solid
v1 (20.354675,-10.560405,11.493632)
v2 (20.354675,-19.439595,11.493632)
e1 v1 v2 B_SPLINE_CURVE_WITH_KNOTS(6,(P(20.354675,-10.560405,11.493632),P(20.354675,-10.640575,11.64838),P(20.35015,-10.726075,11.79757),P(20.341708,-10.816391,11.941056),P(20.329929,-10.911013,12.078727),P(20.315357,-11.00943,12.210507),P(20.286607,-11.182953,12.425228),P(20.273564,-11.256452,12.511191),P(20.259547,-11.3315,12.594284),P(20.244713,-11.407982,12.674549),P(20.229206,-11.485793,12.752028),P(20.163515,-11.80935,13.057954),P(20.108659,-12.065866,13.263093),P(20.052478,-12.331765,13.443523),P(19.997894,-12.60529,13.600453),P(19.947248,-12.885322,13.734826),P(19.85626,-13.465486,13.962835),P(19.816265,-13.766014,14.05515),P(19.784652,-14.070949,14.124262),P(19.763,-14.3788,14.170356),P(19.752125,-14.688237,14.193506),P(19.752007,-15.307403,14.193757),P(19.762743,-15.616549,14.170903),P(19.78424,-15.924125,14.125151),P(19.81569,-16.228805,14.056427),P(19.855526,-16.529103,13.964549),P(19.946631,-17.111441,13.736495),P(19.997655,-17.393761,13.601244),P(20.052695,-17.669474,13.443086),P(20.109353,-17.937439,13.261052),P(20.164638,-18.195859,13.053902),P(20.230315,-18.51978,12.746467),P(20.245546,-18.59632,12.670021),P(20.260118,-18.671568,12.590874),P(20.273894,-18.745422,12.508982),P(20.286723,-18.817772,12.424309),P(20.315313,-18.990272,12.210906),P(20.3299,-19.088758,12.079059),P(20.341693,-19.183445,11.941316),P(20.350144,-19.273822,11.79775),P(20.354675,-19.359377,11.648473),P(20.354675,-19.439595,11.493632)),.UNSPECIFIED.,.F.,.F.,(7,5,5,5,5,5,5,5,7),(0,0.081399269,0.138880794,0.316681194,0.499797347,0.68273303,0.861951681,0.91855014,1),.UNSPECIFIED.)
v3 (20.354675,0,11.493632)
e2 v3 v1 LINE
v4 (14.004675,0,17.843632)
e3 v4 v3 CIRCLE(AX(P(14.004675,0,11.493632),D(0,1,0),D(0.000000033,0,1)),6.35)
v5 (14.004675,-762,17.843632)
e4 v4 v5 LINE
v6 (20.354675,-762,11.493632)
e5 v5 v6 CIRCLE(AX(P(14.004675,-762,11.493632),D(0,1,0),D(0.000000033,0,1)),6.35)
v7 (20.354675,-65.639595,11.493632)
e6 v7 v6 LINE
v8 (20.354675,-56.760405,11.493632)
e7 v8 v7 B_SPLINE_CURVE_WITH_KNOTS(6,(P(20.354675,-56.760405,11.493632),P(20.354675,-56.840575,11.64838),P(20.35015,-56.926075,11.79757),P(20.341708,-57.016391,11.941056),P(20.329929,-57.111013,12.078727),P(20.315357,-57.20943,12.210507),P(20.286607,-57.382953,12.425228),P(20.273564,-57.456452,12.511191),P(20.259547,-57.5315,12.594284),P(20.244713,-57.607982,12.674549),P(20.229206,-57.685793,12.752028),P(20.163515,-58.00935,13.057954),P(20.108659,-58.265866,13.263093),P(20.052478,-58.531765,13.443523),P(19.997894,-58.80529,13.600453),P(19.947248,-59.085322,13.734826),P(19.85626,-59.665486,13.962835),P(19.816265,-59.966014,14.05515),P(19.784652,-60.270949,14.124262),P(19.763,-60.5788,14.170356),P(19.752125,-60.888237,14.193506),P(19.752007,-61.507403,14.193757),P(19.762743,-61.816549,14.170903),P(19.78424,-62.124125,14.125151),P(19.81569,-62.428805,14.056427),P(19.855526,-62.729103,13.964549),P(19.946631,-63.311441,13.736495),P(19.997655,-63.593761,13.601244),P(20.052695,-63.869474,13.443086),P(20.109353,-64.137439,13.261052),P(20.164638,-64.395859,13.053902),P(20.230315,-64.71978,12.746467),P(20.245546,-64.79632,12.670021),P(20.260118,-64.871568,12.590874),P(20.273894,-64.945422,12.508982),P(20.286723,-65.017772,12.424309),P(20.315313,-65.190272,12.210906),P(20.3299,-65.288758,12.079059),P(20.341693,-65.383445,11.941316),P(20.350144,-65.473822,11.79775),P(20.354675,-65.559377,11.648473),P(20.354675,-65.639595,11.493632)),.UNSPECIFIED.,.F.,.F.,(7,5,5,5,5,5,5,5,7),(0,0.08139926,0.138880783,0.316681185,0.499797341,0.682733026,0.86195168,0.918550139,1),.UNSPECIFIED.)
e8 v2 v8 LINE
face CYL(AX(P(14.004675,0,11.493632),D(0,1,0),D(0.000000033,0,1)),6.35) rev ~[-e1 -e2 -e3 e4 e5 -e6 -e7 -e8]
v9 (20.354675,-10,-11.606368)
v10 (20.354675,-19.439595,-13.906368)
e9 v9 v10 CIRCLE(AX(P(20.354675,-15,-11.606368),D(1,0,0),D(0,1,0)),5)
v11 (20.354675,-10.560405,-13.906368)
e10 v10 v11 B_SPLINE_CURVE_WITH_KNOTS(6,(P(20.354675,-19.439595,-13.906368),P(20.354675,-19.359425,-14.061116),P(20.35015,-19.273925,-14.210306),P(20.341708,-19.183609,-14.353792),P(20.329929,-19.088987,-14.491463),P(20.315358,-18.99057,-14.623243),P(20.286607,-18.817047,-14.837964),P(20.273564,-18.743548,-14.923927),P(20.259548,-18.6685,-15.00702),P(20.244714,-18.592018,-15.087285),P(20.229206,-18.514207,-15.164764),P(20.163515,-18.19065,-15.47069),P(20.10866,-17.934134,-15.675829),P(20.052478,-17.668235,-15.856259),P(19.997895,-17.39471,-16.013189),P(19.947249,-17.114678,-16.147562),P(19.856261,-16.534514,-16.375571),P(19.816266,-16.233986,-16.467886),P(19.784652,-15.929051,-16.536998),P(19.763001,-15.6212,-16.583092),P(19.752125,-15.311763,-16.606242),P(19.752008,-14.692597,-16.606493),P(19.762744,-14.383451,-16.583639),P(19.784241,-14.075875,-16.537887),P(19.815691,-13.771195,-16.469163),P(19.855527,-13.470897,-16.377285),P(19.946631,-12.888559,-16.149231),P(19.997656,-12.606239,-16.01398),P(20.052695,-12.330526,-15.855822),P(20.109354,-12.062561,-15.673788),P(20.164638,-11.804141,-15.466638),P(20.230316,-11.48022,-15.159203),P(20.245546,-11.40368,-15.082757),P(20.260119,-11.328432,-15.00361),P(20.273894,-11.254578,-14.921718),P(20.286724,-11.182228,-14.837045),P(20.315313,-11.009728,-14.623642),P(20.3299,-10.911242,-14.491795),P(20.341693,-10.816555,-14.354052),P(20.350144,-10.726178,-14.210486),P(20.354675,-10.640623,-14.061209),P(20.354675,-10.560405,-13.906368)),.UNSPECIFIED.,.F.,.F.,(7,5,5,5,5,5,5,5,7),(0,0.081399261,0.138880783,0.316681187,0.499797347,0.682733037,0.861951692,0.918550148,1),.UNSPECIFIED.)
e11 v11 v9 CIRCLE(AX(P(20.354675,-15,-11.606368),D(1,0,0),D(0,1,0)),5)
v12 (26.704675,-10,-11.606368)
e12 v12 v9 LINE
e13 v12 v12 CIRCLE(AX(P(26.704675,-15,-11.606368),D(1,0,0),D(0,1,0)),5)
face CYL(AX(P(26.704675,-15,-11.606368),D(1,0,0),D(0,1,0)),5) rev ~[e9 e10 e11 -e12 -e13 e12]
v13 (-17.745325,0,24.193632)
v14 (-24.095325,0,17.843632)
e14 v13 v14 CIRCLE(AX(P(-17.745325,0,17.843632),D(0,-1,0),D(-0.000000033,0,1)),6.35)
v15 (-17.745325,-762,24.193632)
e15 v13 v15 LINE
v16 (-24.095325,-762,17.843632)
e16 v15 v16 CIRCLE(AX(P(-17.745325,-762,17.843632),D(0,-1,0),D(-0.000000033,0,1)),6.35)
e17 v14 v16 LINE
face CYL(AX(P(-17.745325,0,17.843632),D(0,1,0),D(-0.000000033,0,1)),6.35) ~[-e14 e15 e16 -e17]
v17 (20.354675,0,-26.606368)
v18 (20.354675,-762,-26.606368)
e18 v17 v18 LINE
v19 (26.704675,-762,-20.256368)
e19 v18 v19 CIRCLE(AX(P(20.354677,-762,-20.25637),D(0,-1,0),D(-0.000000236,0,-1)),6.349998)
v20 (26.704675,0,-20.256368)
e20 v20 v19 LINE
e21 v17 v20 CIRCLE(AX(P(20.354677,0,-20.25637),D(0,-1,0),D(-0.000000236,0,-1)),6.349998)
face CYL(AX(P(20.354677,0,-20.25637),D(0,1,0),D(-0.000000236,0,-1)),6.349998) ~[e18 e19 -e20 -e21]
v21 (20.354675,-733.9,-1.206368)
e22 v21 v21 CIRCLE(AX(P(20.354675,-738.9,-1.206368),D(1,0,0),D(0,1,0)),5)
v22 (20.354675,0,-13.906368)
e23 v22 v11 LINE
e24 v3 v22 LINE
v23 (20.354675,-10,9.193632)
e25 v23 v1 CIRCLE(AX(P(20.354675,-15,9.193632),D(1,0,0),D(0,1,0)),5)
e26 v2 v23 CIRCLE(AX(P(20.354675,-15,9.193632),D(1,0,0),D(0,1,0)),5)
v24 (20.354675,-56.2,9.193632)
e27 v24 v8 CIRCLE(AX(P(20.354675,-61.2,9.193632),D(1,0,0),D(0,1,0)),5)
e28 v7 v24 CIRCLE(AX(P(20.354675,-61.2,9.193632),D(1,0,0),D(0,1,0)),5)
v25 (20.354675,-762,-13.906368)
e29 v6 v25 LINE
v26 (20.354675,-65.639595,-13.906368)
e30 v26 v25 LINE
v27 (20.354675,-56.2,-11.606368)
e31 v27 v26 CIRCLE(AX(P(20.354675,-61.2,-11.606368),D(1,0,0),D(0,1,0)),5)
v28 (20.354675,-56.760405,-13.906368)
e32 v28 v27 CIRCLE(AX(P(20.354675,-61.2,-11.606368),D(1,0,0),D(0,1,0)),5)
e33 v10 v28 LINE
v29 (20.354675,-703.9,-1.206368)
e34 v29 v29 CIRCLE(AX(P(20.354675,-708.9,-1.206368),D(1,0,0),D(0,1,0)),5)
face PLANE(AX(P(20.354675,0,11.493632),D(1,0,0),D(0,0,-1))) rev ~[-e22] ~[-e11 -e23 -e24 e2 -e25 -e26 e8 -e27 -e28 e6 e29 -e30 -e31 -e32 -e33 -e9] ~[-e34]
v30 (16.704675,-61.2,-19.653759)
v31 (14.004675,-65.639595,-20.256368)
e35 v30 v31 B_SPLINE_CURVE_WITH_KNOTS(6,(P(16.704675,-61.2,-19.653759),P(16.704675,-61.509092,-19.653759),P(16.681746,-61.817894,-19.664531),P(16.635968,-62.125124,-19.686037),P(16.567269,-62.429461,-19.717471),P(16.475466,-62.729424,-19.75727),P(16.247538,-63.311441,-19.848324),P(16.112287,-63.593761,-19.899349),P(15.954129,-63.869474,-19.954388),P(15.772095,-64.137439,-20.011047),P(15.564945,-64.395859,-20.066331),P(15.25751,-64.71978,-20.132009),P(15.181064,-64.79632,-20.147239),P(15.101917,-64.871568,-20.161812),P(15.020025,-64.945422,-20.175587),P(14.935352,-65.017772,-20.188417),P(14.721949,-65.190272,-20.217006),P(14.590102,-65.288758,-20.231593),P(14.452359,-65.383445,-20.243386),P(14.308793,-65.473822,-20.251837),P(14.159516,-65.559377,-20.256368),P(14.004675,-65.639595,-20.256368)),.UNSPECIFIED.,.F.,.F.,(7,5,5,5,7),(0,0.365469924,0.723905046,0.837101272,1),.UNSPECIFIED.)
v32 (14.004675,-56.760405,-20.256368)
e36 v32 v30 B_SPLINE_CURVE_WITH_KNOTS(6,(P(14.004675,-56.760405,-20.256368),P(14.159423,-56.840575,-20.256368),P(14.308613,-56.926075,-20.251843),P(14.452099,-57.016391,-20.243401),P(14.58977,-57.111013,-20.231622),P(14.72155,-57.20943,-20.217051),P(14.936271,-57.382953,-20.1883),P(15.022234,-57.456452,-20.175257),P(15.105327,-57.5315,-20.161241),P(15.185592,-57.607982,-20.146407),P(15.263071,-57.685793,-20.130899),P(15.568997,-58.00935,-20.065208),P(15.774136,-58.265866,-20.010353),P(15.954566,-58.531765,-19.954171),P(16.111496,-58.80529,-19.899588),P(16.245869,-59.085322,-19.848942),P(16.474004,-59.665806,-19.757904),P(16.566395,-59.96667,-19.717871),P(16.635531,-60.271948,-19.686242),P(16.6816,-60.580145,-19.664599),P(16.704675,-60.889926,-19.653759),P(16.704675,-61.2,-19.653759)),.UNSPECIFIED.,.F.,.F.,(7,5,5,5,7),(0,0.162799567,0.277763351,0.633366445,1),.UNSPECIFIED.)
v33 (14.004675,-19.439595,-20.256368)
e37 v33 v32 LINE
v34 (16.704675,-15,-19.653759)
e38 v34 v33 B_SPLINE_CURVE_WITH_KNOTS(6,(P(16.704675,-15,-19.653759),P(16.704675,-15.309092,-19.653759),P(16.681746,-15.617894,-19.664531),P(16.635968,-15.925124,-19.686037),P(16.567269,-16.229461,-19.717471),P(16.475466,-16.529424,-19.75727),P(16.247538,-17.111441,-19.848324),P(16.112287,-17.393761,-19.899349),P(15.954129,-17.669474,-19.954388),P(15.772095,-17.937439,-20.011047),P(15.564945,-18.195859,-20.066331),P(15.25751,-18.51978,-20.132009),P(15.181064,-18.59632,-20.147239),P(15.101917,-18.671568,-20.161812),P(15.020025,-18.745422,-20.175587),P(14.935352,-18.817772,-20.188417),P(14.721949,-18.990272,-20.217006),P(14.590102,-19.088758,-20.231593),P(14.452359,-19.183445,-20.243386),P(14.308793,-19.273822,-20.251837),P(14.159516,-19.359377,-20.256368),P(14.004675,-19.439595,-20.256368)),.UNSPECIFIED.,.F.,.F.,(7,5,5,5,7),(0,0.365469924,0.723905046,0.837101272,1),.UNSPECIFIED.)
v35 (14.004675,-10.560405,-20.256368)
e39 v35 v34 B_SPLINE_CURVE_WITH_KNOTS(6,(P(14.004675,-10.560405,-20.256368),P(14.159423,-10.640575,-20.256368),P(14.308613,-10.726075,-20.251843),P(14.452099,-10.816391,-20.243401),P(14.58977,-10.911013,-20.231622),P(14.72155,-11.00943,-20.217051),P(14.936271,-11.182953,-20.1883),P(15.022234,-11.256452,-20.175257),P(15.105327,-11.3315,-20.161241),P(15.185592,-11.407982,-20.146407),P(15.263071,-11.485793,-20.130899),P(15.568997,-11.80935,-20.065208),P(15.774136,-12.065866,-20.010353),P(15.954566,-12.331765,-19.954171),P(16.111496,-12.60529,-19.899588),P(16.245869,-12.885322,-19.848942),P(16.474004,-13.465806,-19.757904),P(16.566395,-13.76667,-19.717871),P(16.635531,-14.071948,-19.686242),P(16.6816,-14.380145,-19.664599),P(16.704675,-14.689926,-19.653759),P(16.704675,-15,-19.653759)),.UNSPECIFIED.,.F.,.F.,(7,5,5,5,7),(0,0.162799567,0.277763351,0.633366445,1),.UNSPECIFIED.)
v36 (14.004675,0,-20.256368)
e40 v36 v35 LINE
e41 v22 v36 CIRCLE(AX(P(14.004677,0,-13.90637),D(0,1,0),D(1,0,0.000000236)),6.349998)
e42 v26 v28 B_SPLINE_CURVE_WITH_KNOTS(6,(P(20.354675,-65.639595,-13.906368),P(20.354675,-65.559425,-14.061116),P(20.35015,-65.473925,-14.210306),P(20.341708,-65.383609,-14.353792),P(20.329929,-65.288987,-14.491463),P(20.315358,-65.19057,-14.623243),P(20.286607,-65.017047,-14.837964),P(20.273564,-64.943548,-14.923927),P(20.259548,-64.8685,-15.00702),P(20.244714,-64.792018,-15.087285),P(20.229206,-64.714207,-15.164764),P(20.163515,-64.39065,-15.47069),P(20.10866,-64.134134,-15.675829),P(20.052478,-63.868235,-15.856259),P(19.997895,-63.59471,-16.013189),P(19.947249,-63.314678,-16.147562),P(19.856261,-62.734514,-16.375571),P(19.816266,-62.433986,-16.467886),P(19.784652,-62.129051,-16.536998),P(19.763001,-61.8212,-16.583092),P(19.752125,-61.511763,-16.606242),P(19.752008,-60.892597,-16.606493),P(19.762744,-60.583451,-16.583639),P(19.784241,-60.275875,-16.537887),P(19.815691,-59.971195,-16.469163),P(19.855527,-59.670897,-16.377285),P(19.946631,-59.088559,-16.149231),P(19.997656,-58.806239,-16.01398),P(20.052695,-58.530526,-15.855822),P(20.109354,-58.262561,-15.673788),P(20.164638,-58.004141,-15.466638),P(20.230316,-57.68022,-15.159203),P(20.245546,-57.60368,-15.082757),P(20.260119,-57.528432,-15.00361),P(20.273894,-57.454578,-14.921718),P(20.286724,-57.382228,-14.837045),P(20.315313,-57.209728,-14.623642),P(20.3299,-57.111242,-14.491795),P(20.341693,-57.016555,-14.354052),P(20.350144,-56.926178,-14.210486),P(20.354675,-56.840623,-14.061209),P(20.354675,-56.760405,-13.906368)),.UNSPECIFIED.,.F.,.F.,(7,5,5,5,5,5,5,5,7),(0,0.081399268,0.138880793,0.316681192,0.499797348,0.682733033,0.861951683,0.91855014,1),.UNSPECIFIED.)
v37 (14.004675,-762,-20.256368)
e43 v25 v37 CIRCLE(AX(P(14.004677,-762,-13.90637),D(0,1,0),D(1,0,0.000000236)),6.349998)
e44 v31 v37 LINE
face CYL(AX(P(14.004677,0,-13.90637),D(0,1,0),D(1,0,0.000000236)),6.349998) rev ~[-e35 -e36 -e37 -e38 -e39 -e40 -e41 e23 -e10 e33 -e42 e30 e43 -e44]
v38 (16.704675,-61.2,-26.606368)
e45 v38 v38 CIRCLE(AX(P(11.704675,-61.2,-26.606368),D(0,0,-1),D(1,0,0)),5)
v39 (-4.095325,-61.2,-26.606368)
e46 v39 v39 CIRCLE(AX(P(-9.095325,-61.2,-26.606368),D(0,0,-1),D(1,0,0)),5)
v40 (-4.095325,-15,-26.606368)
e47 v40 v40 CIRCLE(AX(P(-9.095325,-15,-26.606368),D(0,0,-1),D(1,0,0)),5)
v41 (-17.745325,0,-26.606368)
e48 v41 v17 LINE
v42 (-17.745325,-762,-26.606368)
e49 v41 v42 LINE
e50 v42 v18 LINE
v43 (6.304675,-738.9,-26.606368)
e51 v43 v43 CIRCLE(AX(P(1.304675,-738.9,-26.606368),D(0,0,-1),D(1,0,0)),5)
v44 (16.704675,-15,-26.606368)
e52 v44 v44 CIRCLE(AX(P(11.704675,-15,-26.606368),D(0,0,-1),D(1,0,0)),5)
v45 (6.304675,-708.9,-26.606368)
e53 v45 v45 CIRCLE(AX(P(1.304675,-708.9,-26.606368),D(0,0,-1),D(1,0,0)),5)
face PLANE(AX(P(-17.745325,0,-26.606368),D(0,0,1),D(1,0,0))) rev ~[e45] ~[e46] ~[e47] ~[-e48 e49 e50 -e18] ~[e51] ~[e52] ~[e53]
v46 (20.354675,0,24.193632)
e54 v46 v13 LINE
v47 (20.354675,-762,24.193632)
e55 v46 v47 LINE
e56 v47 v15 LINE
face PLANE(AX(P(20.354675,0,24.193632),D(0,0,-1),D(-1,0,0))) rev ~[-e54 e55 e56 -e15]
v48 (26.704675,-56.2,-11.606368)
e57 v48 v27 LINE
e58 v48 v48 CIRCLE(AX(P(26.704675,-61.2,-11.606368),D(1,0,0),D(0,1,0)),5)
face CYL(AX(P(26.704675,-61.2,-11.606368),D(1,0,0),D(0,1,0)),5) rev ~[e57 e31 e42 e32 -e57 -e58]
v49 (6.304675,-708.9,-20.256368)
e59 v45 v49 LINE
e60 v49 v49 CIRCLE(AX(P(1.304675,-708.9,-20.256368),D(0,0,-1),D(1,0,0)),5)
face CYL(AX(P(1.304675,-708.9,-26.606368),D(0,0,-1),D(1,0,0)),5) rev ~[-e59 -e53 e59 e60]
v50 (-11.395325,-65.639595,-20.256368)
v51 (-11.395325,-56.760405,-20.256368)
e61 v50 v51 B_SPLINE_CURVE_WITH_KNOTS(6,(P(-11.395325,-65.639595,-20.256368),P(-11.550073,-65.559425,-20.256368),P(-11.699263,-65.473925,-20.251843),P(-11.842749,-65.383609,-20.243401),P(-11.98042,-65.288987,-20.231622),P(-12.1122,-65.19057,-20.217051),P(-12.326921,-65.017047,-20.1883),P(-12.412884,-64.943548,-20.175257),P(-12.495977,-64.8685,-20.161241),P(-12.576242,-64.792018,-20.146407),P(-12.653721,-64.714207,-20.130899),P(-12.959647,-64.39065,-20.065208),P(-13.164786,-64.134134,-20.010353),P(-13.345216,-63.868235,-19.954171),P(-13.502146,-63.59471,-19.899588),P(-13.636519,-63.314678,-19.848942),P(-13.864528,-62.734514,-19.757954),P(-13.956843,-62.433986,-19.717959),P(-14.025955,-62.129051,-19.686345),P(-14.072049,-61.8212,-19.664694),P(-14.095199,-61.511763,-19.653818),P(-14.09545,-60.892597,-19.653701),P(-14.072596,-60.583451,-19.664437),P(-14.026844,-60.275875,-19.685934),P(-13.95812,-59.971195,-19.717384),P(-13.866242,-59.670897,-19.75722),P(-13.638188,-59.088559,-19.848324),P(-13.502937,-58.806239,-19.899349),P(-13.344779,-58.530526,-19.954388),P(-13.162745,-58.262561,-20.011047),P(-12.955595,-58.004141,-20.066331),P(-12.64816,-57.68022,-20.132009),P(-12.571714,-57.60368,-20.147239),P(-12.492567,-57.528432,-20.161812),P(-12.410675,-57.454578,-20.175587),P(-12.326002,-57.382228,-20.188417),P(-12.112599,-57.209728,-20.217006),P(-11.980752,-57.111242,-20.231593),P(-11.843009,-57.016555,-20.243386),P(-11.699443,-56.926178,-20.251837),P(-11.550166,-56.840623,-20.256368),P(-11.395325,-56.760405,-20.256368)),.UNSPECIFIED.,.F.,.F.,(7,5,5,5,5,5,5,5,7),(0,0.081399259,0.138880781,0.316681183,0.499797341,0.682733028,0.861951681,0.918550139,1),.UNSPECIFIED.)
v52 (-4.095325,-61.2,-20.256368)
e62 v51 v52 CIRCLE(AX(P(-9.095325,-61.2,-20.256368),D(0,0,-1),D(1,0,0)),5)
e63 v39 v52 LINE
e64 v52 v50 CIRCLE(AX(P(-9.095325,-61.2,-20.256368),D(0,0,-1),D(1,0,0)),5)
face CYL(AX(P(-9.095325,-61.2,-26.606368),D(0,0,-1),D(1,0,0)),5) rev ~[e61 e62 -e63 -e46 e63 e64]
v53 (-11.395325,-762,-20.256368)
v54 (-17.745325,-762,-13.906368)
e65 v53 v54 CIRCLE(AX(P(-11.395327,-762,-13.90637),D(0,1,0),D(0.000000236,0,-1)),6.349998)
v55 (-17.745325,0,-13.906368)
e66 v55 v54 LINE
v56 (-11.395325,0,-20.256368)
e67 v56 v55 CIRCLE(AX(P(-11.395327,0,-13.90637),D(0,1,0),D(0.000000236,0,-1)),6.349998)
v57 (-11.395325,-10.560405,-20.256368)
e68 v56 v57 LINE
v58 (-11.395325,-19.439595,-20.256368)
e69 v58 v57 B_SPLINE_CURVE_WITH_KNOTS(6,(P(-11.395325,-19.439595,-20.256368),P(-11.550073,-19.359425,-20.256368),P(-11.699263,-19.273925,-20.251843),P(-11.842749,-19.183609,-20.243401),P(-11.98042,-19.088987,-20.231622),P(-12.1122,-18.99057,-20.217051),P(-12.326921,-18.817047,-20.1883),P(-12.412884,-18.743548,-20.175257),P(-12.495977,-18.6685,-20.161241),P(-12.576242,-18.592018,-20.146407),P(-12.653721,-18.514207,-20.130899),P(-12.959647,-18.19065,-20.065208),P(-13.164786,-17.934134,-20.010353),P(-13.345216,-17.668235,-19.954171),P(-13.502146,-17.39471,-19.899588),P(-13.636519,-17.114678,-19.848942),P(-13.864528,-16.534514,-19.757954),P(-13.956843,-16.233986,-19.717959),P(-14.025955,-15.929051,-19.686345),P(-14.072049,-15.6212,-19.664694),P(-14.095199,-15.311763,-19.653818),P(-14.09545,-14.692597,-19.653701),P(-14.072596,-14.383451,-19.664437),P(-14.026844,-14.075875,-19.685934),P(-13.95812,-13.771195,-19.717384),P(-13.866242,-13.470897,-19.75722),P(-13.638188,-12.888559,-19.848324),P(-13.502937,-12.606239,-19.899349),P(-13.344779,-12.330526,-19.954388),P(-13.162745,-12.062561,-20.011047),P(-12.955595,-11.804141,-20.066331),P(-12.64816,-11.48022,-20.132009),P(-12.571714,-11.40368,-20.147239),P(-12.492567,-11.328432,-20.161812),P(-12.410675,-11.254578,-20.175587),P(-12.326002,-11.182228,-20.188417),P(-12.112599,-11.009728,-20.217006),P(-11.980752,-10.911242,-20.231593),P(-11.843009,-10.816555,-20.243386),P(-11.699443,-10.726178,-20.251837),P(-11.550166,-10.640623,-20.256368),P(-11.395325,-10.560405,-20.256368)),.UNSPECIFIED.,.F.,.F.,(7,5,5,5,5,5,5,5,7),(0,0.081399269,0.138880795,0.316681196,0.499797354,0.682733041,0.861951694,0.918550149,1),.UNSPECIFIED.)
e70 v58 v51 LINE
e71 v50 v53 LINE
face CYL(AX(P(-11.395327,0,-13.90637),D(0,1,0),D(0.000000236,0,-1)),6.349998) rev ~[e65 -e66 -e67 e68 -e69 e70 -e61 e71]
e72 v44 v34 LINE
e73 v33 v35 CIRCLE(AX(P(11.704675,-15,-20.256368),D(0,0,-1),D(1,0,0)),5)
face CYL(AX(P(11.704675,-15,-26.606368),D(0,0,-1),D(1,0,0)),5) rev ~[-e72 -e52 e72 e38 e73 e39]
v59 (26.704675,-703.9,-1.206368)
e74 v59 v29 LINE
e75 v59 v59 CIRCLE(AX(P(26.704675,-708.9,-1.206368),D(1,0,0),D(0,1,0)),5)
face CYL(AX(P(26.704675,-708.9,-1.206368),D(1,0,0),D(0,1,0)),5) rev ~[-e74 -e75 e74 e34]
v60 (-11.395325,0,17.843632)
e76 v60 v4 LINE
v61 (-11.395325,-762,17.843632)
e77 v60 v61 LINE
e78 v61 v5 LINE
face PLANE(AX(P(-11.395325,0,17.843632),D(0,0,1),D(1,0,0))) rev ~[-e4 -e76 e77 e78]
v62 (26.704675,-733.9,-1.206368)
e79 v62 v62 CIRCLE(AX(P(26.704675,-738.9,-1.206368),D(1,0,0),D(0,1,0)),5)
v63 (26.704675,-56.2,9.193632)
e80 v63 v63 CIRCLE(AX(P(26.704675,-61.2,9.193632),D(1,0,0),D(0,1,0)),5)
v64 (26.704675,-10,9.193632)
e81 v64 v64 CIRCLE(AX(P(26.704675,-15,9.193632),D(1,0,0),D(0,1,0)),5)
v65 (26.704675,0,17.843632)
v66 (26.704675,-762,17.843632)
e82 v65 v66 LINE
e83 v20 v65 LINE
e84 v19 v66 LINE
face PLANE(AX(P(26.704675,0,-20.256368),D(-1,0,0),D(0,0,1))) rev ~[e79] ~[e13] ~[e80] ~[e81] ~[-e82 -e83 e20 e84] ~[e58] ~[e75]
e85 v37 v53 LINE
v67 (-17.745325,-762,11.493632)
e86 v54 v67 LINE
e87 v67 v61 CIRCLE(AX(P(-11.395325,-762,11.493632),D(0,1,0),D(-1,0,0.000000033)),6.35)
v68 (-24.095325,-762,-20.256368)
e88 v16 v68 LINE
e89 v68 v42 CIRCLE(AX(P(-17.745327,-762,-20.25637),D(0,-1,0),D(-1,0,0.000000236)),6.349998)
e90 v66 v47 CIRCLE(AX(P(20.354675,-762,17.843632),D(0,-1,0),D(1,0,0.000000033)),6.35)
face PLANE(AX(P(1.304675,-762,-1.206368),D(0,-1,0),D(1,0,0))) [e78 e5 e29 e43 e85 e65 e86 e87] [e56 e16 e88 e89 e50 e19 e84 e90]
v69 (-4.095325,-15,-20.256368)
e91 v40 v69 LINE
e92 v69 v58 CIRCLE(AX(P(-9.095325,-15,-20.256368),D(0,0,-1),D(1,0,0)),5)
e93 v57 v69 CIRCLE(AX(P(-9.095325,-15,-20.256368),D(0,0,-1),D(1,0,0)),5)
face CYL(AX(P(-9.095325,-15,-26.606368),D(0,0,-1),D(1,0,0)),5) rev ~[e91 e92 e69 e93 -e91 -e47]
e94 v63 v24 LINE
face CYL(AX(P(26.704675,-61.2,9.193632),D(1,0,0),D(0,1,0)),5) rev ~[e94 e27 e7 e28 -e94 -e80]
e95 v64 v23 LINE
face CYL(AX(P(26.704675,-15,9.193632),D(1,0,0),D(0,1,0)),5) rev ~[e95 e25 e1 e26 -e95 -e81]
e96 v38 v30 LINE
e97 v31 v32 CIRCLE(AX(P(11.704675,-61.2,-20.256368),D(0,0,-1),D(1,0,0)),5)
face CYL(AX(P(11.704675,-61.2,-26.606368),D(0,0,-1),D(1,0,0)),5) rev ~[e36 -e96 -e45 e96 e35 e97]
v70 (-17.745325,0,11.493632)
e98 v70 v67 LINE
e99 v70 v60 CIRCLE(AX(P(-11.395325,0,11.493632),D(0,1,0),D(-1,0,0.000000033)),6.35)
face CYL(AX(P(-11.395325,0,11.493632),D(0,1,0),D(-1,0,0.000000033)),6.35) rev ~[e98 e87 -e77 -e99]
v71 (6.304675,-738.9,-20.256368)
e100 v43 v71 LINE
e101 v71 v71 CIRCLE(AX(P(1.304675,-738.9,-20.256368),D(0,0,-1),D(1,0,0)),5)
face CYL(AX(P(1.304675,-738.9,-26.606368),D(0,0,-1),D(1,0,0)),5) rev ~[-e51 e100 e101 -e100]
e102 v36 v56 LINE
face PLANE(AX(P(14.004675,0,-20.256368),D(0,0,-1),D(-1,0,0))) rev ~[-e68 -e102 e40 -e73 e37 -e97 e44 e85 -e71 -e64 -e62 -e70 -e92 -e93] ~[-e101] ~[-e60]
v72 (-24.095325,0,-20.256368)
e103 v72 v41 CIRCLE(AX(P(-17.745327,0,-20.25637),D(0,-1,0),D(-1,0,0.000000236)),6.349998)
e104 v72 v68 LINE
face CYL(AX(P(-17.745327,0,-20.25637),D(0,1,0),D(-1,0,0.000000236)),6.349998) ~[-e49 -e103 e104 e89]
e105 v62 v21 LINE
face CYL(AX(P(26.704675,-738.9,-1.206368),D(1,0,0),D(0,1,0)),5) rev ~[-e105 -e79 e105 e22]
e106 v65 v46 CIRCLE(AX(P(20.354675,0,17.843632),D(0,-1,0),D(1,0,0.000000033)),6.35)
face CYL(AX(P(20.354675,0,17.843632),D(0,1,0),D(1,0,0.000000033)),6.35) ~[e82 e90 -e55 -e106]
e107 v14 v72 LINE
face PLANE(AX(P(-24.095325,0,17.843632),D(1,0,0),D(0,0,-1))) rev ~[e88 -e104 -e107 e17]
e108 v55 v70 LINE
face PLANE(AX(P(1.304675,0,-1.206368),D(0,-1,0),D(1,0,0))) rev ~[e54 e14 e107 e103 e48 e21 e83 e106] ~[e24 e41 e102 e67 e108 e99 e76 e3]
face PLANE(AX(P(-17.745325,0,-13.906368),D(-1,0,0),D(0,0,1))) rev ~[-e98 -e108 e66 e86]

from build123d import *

# Parameters (mm, degrees)
F1_DEPTH = 762
F2_R     = 5
F3_DEPTH = 25
F4_R     = 5
F5_DEPTH = 25
F6_R     = 5
F7_DEPTH = 25
F8_R     = 5
F9_DEPTH = 25


with BuildPart() as f1:
    # F0 (on Front) → F1 (new body)
    with BuildSketch(Plane.XZ):
        with BuildLine():
            Line((20.354675, 24.193632), (-17.745325, 24.193632))
            ThreePointArc((-17.745325, 24.193632), (-22.235453, 22.33376), (-24.095325, 17.843632))
            Line((-24.095325, 17.843632), (-24.095325, -20.256368))
            ThreePointArc((-24.095325, -20.256368), (-22.235453, -24.746497), (-17.745325, -26.606368))
            Line((-17.745325, -26.606368), (20.354675, -26.606368))
            ThreePointArc((20.354675, -26.606368), (24.844803, -24.746497), (26.704675, -20.256368))
            Line((26.704675, -20.256368), (26.704675, 17.843632))
            ThreePointArc((26.704675, 17.843632), (24.844803, 22.33376), (20.354675, 24.193632))
        make_face()
        with BuildLine():
            ThreePointArc((-17.745325, 11.493632), (-15.885453, 15.98376), (-11.395325, 17.843632))
            Line((-11.395325, 17.843632), (14.004675, 17.843632))
            ThreePointArc((14.004675, 17.843632), (18.494803, 15.98376), (20.354675, 11.493632))
            Line((20.354675, 11.493632), (20.354675, -13.906368))
            ThreePointArc((20.354675, -13.906368), (18.494803, -18.396497), (14.004675, -20.256368))
            Line((14.004675, -20.256368), (-11.395325, -20.256368))
            ThreePointArc((-11.395325, -20.256368), (-15.885453, -18.396497), (-17.745325, -13.906368))
            Line((-17.745325, -13.906368), (-17.745325, 11.493632))
        make_face(mode=Mode.SUBTRACT)
    extrude(amount=F1_DEPTH)

    # F2 (on face) → F3 (cut)
    with BuildSketch(Plane.YZ.offset(26.704675)):
        with Locations((-15, 9.193632)):
            Circle(F2_R)
        with Locations((-15, -11.606368)):
            Circle(F2_R)
        with Locations((-61.2, 9.193632)):
            Circle(F2_R)
        with Locations((-61.2, -11.606368)):
            Circle(F2_R)
    extrude(amount=-F3_DEPTH, mode=Mode.SUBTRACT)

    # F4 (on face) → F5 (cut)
    with BuildSketch(Plane(origin=(0, 0, -26.606368), x_dir=(1, 0, 0), z_dir=(0, 0, -1))):
        with Locations((11.704675, 15)):
            Circle(F4_R)
        with Locations((-9.095325, 15)):
            Circle(F4_R)
        with Locations((11.704675, 61.2)):
            Circle(F4_R)
        with Locations((-9.095325, 61.2)):
            Circle(F4_R)
    extrude(amount=-F5_DEPTH, mode=Mode.SUBTRACT)

    # F6 (on face) → F7 (cut)
    with BuildSketch(Plane(origin=(0, 0, -26.606368), x_dir=(1, 0, 0), z_dir=(0, 0, -1))):
        with Locations((1.304675, 738.9)):
            Circle(F6_R)
        with Locations((1.304675, 708.9)):
            Circle(F6_R)
    extrude(amount=-F7_DEPTH, mode=Mode.SUBTRACT)

    # F8 (on face) → F9 (cut)
    with BuildSketch(Plane.YZ.offset(26.704675)):
        with Locations((-738.9, -1.206368)):
            Circle(F8_R)
        with Locations((-708.9, -1.206368)):
            Circle(F8_R)
    extrude(amount=-F9_DEPTH, mode=Mode.SUBTRACT)


solid = f1.part
